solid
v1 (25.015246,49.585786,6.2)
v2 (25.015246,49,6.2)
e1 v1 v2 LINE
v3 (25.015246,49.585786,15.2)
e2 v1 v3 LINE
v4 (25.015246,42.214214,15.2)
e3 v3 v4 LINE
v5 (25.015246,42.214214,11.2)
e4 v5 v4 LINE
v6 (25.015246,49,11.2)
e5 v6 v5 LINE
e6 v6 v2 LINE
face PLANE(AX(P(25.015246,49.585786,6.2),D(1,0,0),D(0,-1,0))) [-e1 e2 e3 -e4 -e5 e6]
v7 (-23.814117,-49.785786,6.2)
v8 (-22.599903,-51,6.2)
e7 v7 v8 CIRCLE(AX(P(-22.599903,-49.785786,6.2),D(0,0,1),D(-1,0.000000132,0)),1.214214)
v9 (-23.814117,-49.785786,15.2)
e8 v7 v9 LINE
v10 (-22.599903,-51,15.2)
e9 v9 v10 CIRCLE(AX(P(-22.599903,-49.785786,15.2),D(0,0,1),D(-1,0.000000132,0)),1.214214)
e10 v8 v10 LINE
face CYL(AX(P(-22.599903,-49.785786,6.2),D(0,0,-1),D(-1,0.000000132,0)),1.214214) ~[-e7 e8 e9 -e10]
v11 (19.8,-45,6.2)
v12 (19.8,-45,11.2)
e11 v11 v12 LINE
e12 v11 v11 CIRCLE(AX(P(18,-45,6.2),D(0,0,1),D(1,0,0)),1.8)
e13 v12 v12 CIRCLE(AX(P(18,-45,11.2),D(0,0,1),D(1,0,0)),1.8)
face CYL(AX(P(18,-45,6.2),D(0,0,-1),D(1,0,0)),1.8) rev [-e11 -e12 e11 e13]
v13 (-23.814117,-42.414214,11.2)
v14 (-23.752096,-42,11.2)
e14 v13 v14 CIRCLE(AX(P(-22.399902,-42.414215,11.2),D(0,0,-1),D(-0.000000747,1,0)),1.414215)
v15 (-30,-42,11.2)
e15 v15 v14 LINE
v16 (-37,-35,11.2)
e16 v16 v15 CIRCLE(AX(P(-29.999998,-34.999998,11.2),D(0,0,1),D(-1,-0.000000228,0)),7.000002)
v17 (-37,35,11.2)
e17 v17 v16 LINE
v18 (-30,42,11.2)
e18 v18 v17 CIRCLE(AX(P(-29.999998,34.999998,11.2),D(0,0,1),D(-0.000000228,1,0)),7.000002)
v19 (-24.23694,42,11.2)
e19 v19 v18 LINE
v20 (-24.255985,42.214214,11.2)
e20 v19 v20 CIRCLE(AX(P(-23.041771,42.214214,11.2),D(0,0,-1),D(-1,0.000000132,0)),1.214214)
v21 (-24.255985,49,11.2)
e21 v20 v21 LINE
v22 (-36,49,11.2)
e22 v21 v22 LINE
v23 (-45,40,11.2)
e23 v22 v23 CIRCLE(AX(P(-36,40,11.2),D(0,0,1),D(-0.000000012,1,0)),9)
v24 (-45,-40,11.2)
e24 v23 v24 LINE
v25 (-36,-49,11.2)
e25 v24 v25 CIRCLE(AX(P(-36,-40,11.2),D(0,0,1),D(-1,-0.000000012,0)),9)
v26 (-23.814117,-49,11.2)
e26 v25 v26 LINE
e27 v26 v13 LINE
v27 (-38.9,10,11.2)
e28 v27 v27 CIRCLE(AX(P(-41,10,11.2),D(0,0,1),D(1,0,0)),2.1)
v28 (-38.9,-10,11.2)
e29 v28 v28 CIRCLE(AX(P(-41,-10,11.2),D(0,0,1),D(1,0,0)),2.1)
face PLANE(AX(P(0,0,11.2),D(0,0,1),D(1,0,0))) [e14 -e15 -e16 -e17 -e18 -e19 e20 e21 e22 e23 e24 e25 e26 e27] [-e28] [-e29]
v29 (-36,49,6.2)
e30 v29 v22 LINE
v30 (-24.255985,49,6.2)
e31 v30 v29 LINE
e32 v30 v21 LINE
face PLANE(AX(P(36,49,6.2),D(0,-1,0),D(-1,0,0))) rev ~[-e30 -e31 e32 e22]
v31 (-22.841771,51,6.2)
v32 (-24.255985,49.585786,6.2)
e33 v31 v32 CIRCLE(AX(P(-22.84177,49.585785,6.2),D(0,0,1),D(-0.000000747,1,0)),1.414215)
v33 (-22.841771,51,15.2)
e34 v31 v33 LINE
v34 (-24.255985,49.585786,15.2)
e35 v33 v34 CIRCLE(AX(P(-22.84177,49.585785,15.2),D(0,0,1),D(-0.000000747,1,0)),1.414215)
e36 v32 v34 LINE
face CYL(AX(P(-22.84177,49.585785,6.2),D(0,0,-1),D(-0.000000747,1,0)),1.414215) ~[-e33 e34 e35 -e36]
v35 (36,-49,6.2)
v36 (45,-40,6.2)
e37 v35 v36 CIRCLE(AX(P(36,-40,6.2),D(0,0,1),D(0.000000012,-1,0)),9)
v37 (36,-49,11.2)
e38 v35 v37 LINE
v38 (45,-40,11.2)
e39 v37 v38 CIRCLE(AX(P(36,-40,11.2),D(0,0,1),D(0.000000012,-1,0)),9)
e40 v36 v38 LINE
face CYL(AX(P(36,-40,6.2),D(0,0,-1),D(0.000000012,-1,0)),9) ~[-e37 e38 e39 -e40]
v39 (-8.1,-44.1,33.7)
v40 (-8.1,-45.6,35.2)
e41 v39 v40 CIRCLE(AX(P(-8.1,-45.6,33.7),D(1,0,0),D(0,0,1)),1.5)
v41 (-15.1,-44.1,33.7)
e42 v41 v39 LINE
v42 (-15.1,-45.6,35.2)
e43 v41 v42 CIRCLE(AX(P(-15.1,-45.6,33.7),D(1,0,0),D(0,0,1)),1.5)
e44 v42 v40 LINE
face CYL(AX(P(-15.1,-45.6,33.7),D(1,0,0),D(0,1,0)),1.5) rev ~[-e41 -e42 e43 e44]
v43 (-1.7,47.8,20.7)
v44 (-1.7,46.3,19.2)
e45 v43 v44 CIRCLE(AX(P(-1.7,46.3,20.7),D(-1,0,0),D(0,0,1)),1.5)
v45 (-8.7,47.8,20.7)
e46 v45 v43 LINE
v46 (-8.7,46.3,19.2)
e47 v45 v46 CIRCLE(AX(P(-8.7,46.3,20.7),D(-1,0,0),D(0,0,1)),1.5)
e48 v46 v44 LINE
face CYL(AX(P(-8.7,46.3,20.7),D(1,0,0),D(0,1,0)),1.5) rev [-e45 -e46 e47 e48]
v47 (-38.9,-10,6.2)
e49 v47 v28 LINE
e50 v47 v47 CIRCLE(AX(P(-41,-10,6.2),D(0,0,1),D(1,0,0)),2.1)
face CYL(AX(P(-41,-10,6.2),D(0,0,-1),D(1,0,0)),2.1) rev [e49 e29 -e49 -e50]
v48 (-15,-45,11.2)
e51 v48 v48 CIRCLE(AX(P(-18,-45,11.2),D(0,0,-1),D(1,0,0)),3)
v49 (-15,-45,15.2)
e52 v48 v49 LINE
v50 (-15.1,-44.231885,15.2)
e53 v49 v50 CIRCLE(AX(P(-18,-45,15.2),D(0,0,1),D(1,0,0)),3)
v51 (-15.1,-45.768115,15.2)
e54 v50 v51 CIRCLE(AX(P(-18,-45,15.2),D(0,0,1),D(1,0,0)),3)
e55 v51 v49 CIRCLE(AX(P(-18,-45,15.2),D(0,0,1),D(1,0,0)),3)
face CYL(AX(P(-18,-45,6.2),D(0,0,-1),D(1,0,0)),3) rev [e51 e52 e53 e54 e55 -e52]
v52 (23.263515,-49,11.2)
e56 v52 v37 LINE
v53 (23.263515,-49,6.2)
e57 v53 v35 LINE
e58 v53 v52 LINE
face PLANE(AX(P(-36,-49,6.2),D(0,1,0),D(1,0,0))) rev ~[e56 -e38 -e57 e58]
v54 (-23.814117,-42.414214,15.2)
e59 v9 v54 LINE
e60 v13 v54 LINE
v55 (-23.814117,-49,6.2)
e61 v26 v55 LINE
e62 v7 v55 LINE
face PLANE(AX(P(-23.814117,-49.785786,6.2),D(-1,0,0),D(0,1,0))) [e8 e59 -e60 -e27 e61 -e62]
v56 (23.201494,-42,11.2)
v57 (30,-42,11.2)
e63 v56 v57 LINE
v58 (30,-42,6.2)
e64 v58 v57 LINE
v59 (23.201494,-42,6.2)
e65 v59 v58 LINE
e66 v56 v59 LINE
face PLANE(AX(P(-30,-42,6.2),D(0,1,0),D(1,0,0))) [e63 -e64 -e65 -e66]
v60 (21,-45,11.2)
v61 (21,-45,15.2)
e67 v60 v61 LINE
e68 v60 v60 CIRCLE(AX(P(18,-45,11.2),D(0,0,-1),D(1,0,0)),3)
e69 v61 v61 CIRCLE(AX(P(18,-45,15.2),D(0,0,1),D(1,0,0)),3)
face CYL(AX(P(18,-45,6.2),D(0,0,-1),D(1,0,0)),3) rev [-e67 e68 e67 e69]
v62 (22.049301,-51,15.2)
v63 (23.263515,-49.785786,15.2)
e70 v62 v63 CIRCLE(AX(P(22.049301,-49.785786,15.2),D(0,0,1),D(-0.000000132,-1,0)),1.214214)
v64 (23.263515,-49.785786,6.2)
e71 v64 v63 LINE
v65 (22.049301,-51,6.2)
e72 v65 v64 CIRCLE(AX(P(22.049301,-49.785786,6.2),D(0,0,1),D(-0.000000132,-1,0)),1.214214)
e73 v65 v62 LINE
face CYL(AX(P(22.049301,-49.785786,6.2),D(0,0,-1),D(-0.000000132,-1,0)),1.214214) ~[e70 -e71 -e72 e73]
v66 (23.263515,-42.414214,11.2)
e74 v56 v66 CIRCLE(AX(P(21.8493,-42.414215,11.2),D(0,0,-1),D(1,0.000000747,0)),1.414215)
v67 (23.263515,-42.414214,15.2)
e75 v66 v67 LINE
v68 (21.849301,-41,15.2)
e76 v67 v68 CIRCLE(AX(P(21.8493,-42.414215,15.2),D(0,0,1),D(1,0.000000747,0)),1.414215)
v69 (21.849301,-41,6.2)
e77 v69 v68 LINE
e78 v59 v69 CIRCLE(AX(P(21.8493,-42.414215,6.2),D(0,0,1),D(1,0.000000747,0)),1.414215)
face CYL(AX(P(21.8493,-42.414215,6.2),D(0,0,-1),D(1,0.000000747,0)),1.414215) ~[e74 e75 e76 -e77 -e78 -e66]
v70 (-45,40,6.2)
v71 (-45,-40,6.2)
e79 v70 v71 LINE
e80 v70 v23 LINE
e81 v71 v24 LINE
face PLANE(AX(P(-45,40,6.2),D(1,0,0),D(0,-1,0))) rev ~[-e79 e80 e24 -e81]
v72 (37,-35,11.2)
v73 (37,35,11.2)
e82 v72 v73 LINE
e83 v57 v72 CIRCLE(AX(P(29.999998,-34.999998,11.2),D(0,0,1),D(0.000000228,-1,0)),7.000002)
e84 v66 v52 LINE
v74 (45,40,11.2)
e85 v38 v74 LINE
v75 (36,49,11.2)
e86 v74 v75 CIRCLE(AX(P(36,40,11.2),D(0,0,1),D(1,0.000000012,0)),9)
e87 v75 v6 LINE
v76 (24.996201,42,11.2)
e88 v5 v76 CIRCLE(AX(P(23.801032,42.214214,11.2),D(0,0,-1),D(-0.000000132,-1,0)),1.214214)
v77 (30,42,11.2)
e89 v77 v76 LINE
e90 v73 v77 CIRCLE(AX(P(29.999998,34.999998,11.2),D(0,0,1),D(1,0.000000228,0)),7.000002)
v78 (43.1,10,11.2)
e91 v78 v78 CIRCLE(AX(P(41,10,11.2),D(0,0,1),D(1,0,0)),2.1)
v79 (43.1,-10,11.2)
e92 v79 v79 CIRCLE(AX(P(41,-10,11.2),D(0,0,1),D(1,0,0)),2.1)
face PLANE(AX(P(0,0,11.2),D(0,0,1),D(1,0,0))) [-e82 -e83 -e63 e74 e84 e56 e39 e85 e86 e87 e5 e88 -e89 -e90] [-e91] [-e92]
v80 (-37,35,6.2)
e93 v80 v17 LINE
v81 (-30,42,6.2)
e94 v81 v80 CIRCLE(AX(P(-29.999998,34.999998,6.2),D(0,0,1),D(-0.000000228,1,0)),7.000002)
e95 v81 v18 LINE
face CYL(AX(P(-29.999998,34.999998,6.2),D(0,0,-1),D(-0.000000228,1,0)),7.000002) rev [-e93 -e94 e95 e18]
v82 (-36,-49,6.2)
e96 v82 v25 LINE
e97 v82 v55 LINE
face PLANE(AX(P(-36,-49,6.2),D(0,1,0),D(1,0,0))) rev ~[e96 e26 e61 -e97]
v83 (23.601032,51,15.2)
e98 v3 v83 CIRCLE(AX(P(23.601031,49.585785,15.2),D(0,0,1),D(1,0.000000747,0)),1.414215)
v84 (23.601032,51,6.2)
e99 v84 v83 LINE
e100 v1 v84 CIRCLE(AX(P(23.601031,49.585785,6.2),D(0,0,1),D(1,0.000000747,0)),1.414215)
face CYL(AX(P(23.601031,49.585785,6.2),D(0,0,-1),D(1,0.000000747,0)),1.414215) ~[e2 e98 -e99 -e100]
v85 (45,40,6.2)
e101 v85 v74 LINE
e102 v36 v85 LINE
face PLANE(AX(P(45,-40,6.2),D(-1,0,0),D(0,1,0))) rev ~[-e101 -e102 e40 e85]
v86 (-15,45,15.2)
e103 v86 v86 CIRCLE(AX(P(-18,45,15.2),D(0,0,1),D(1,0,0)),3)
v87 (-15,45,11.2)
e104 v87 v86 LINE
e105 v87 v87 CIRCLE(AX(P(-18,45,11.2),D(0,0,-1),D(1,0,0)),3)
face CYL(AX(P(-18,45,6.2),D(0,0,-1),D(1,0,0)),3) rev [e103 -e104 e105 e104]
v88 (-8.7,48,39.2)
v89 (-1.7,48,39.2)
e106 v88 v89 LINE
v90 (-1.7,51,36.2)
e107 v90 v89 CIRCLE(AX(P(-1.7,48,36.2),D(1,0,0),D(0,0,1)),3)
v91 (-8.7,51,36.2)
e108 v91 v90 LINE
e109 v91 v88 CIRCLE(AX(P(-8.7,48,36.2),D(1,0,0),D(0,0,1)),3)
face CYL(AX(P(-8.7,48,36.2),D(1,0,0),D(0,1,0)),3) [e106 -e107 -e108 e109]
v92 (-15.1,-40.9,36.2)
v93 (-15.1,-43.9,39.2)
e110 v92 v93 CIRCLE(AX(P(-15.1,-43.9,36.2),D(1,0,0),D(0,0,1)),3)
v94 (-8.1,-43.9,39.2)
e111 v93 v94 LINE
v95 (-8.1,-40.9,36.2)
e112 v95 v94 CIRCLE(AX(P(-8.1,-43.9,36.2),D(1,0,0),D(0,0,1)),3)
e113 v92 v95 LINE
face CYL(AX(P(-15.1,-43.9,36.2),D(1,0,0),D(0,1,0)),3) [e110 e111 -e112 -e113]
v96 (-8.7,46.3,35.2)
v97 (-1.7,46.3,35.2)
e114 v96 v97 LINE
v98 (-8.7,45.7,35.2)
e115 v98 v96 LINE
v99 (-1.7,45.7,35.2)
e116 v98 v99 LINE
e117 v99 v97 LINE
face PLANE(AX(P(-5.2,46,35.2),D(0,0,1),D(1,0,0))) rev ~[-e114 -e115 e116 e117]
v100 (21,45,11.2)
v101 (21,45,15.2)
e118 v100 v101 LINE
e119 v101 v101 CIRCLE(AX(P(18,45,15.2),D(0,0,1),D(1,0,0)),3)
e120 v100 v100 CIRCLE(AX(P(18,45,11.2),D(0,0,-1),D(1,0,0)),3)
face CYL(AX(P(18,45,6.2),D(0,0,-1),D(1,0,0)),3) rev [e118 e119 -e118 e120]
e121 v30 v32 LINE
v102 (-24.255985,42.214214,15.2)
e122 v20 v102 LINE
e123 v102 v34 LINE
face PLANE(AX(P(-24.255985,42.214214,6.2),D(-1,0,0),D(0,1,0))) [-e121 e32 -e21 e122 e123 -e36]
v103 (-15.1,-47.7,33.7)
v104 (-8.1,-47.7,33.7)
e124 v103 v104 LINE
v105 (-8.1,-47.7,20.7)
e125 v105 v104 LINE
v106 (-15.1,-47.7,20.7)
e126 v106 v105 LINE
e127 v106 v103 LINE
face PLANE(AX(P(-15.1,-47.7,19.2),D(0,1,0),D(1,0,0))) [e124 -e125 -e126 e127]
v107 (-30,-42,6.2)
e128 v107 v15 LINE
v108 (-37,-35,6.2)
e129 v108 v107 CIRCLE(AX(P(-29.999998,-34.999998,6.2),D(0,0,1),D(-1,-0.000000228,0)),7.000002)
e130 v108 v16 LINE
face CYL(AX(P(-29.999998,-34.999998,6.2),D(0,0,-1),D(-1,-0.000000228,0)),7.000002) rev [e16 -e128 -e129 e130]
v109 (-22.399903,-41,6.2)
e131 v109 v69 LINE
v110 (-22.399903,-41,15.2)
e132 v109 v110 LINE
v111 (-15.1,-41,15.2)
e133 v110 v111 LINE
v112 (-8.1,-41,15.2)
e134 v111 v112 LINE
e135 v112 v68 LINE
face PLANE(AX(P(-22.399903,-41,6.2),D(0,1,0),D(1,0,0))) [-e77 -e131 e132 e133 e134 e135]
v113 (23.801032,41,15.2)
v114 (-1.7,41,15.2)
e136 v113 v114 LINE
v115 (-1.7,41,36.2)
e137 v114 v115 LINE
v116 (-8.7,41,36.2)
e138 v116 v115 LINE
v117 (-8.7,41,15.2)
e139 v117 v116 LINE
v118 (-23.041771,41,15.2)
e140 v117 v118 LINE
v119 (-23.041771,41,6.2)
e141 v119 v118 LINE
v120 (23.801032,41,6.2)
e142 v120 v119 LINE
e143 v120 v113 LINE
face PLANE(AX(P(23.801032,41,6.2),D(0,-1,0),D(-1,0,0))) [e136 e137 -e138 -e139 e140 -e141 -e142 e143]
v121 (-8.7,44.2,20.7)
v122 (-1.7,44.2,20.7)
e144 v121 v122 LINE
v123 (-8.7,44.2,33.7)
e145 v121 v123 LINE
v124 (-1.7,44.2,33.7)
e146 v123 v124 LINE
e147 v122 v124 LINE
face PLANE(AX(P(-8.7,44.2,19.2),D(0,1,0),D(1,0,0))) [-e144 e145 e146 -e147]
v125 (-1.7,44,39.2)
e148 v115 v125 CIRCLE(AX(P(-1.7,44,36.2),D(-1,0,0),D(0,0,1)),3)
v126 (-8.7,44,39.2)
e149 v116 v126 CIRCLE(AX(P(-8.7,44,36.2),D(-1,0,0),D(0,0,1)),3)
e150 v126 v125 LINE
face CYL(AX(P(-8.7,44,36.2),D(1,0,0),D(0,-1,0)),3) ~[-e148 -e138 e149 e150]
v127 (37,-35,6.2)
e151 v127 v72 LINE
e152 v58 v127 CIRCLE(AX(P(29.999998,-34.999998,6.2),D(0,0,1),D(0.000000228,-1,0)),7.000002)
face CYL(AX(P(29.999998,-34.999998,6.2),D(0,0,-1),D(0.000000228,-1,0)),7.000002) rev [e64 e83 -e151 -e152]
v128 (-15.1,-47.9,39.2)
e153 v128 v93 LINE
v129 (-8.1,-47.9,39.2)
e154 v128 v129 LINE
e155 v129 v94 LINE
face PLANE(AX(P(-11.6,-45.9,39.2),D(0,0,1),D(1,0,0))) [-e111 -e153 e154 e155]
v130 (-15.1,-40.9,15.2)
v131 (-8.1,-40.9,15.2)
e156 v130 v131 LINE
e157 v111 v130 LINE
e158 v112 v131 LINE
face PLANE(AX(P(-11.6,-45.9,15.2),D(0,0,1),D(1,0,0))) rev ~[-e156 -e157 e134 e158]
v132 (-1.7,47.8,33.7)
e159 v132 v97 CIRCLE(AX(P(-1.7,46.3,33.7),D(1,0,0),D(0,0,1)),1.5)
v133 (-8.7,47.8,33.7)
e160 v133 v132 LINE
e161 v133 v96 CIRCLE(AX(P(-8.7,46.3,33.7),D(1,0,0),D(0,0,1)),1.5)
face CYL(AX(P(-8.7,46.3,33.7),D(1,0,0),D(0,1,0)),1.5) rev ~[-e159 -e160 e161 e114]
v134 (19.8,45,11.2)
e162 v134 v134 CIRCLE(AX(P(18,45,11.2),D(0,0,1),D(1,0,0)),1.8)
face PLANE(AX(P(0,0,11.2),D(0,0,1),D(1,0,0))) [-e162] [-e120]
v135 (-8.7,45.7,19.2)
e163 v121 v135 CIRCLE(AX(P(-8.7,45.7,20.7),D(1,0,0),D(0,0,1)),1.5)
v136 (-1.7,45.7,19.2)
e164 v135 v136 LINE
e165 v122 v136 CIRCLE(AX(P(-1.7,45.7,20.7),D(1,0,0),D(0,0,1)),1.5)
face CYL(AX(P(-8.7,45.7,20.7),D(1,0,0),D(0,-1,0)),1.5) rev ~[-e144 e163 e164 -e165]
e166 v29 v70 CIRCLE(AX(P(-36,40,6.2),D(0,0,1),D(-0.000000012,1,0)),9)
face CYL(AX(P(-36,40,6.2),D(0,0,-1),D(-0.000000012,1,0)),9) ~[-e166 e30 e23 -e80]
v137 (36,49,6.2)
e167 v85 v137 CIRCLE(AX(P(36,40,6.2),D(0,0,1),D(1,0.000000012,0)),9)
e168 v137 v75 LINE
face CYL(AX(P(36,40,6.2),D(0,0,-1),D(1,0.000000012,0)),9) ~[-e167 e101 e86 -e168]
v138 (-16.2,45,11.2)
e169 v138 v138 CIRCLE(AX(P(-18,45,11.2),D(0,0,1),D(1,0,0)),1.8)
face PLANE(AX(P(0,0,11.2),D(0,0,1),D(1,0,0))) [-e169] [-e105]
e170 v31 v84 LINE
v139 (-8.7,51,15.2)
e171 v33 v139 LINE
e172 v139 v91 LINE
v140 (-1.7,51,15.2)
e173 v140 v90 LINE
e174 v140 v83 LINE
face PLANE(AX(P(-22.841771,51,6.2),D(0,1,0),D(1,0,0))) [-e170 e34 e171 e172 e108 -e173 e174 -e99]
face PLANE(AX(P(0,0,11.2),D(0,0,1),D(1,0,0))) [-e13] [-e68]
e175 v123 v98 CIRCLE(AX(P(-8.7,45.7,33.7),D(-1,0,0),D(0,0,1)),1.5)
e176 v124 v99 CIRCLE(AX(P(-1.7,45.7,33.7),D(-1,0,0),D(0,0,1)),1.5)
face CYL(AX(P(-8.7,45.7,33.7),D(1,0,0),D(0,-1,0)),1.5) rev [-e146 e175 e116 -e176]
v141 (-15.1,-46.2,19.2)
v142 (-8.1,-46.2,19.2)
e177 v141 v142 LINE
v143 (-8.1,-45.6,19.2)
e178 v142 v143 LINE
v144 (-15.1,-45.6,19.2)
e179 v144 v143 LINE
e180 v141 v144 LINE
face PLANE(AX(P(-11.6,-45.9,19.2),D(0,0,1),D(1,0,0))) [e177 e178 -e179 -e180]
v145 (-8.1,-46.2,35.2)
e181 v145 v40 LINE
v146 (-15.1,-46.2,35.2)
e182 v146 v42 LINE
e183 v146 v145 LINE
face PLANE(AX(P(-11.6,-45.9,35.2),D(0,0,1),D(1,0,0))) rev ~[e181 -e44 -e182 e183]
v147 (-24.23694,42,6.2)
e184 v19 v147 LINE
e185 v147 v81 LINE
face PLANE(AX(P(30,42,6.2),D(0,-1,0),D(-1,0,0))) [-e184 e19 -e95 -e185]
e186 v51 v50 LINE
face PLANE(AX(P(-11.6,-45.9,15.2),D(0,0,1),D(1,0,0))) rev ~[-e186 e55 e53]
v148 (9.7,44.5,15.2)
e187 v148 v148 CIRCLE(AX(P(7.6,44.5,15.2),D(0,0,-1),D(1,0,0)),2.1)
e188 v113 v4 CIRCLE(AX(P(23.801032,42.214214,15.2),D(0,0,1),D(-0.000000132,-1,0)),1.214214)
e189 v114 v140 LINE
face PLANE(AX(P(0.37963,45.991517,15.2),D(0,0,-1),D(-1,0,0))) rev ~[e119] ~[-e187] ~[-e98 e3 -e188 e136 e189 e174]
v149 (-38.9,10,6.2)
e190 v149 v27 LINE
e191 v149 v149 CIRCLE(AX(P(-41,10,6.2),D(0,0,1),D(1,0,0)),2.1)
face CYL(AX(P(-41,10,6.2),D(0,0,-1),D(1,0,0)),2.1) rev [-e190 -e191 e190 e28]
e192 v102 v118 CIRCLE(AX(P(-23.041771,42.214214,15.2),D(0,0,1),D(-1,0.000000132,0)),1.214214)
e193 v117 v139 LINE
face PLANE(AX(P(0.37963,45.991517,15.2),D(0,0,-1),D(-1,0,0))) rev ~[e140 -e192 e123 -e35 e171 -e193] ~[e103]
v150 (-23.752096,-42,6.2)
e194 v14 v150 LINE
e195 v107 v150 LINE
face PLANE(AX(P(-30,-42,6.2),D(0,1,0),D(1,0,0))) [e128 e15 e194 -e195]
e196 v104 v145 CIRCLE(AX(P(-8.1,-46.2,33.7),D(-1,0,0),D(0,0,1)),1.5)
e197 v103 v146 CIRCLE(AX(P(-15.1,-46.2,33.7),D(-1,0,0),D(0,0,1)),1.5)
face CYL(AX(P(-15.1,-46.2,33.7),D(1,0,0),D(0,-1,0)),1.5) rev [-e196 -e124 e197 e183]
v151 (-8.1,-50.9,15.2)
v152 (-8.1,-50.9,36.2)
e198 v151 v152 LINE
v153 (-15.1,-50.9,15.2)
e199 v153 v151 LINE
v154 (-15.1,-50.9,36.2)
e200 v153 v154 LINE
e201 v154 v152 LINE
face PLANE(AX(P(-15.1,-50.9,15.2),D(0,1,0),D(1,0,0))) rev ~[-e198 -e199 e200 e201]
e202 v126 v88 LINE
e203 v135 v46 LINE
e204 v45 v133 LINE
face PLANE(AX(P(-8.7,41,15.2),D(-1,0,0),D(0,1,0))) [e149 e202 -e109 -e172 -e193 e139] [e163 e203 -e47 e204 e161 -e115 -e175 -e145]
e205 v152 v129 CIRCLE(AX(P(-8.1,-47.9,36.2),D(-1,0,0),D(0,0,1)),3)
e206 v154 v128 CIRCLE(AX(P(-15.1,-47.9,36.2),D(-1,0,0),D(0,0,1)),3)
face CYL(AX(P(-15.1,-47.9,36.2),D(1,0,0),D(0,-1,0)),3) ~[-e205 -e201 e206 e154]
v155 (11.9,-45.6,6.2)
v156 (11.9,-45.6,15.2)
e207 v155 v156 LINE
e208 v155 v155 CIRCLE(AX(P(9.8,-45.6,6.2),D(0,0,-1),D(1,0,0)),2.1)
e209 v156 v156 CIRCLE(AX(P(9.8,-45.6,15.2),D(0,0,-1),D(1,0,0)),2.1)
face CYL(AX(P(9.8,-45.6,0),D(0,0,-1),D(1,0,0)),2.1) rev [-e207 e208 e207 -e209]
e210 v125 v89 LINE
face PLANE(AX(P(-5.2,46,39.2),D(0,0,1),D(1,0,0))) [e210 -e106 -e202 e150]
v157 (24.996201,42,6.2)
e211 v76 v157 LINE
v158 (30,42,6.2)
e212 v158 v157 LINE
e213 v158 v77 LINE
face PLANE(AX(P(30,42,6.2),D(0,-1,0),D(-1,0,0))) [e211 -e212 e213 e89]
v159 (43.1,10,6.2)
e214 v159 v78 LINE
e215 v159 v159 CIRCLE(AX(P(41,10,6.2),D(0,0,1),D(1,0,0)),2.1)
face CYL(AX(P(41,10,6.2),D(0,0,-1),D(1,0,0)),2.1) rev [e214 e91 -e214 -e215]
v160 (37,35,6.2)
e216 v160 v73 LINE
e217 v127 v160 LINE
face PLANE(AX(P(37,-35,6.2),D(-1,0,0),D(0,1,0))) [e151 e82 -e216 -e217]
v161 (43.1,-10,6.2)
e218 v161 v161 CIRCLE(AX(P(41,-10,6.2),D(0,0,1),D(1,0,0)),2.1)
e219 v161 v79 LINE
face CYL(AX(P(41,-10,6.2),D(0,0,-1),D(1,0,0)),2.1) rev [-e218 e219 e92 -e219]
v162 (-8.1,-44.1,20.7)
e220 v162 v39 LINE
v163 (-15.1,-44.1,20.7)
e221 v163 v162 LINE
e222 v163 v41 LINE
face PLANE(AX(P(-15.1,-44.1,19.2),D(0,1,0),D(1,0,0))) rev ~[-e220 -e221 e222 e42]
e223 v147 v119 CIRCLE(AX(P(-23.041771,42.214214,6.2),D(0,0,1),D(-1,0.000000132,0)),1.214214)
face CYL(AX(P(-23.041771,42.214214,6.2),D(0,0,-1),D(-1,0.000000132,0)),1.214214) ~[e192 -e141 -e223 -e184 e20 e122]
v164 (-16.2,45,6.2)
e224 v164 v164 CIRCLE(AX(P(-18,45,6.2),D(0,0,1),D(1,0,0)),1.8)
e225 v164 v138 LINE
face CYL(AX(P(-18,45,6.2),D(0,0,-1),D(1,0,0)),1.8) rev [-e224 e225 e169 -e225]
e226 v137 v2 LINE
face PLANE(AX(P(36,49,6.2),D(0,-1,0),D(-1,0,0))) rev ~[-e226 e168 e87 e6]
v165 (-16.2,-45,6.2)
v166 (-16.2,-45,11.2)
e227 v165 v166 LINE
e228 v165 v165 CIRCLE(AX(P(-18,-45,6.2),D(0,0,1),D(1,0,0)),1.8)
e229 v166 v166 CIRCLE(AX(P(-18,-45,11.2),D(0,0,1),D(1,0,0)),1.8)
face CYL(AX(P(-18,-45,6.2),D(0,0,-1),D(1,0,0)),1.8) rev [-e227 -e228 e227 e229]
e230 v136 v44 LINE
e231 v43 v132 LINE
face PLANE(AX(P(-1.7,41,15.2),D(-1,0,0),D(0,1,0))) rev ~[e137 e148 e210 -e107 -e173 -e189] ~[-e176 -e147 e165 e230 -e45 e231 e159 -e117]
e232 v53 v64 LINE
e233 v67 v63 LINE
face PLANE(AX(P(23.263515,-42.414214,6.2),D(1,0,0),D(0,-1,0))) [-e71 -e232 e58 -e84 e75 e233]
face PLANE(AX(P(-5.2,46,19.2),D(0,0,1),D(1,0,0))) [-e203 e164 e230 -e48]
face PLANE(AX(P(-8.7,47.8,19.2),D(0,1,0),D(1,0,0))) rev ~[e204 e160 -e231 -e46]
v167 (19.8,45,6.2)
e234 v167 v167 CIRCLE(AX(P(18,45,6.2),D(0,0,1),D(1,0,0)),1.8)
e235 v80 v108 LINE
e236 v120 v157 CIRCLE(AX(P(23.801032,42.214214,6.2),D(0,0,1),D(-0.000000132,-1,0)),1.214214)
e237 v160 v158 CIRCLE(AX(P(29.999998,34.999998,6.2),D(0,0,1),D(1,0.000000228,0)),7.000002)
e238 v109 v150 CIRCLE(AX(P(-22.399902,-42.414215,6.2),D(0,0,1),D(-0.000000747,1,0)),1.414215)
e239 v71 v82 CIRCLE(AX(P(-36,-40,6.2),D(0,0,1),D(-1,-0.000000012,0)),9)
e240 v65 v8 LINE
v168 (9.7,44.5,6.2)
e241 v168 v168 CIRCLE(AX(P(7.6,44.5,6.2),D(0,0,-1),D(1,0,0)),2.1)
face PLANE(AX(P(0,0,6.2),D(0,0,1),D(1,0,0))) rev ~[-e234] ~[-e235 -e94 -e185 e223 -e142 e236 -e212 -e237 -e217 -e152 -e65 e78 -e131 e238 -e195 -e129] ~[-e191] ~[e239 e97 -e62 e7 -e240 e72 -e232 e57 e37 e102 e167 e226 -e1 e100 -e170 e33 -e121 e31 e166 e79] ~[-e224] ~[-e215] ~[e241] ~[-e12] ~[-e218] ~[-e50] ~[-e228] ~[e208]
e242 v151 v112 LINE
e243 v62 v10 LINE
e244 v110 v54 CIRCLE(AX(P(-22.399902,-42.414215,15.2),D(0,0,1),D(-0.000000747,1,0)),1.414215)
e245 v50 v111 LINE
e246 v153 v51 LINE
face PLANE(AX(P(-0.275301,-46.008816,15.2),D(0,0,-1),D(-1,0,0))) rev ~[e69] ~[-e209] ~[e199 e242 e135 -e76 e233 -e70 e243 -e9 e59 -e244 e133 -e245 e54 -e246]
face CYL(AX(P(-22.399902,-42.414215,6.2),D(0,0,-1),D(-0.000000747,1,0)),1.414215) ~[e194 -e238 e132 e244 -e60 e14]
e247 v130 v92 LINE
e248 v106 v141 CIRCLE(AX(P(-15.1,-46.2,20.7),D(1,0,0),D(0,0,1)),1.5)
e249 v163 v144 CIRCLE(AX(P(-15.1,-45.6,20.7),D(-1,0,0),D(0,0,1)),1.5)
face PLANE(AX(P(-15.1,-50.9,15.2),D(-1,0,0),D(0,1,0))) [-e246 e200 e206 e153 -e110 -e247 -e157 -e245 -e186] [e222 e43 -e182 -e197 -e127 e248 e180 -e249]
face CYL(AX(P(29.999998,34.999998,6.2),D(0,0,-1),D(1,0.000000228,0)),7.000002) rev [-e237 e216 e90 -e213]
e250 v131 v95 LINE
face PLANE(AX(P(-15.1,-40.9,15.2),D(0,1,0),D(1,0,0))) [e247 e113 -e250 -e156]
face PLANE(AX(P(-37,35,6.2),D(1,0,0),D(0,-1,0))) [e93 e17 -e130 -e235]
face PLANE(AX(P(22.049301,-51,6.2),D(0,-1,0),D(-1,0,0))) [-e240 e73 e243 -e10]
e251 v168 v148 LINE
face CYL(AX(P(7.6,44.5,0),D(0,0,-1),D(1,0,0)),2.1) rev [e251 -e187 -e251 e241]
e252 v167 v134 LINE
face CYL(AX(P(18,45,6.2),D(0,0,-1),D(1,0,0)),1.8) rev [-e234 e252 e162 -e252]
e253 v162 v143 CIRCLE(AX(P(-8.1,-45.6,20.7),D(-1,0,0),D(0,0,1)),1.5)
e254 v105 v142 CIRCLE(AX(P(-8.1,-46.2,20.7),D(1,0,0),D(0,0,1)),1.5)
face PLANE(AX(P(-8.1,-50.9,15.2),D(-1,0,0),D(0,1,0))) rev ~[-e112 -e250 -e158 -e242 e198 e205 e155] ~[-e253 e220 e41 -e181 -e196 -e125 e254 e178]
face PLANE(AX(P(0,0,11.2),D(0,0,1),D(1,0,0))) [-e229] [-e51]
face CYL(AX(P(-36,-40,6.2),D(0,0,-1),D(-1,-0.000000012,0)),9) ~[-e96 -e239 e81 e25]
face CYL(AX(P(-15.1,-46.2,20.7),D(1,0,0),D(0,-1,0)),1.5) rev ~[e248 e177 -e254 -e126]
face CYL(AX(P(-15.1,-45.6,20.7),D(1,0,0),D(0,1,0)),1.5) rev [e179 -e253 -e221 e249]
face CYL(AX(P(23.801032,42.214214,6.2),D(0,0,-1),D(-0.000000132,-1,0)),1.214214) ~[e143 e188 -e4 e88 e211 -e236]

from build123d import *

# Parameters (mm, degrees)
CYLINDER010_R     = 2.1
CYLINDER010_DEPTH = 30
CYLINDER011_R     = 2.1
CYLINDER011_DEPTH = 30
SKETCH002_R       = 1.8
SKETCH002_R_2     = 2.1
EXTRUDE001_DEPTH  = 5
BOX010_W          = 7
BOX010_H          = 3.6
BOX010_DEPTH      = 16
FILLET006_R       = 1.5
BOX009_W          = 7
BOX009_H          = 10
BOX009_DEPTH      = 24
FILLET005_R       = 3
SKETCH006_R       = 3
EXTRUDE005_DEPTH  = 9


with BuildPart() as insert_hole:
    # Cylinder010 → Cylinder010 (new body)
    with BuildSketch(Plane(origin=(7.6, 44.5, 0), x_dir=(1, 0, 0), z_dir=(0, 0, 1))):
        Circle(CYLINDER010_R)
    extrude(amount=CYLINDER010_DEPTH)


with BuildPart() as insert_hole_fusion:
    # Cylinder011 → Cylinder011 (new body)
    with BuildSketch(Plane(origin=(9.8, -45.6, 0), x_dir=(1, 0, 0), z_dir=(0, 0, 1))):
        Circle(CYLINDER011_R)
    extrude(amount=CYLINDER011_DEPTH)

    # Fusion010: union insert hole
    add(insert_hole.part)


with BuildPart() as pair_connector_extrude:
    # Sketch002 → Extrude001 (new body)
    with BuildSketch(Plane.XY):
        with BuildLine():
            Line((-36, -49), (0, -49))
            Line((0, -49), (36, -49))
            ThreePointArc((36, -49), (42.363961, -46.363961), (45, -40))
            Line((45, -40), (45, 0))
            Line((45, 0), (45, 40))
            ThreePointArc((45, 40), (42.363961, 46.363961), (36, 49))
            Line((36, 49), (0, 49))
            Line((0, 49), (-36, 49))
            ThreePointArc((-36, 49), (-42.363961, 46.363961), (-45, 40))
            Line((-45, 40), (-45, 0))
            Line((-45, 0), (-45, -40))
            ThreePointArc((-45, -40), (-42.363961, -46.363961), (-36, -49))
        make_face()
        with Locations((-18, 45)):
            Circle(SKETCH002_R, mode=Mode.SUBTRACT)
        with Locations((18, 45)):
            Circle(SKETCH002_R, mode=Mode.SUBTRACT)
        with Locations((-18, -45)):
            Circle(SKETCH002_R, mode=Mode.SUBTRACT)
        with Locations((18, -45)):
            Circle(SKETCH002_R, mode=Mode.SUBTRACT)
        with Locations((-41, 10)):
            Circle(SKETCH002_R_2, mode=Mode.SUBTRACT)
        with Locations((-41, -10)):
            Circle(SKETCH002_R_2, mode=Mode.SUBTRACT)
        with Locations((41, -10)):
            Circle(SKETCH002_R_2, mode=Mode.SUBTRACT)
        with Locations((41, 10)):
            Circle(SKETCH002_R_2, mode=Mode.SUBTRACT)
        with BuildLine():
            Line((-30, -42), (0, -42))
            Line((0, -42), (30, -42))
            ThreePointArc((30, -42), (34.949747, -39.949747), (37, -35))
            Line((37, -35), (37, 0))
            Line((37, 0), (37, 35))
            ThreePointArc((37, 35), (34.949747, 39.949747), (30, 42))
            Line((30, 42), (0, 42))
            Line((0, 42), (-30, 42))
            ThreePointArc((-30, 42), (-34.949747, 39.949747), (-37, 35))
            Line((-37, 35), (-37, 0))
            Line((-37, 0), (-37, -35))
            ThreePointArc((-37, -35), (-34.949747, -39.949747), (-30, -42))
        make_face(mode=Mode.SUBTRACT)
    extrude(amount=EXTRUDE001_DEPTH)


with BuildPart() as pair_connector_extrude_1:
    # Extrude001 placement: moved
    add(pair_connector_extrude.part.moved(Location((0, 0, 6.2))))


with BuildPart() as stand_hole_fillet:
    # Box010 → Box010 (new body)
    with BuildSketch(Plane(origin=(0, -1.8, 4), x_dir=(1, 0, 0), z_dir=(0, 0, 1))):
        with Locations((3.5, 1.8)):
            Rectangle(BOX010_W, BOX010_H)
    extrude(amount=BOX010_DEPTH)

    # Fillet006
    fillet006_edges = [stand_hole_fillet.edges().sort_by_distance(p)[0] for p in [
        (3.5, -1.8, 4),
        (3.5, -1.8, 20),
        (3.5, 1.8, 4),
        (3.5, 1.8, 20),
    ]]
    fillet(fillet006_edges, radius=FILLET006_R)


with BuildPart() as stand_hole_cut:
    # Box009 → Box009 (new body)
    with BuildSketch(Plane(origin=(0, -5, 0), x_dir=(1, 0, 0), z_dir=(0, 0, 1))):
        with Locations((3.5, 5)):
            Rectangle(BOX009_W, BOX009_H)
    extrude(amount=BOX009_DEPTH)

    # Fillet005
    fillet005_edges = [stand_hole_cut.edges().sort_by_distance(p)[0] for p in [
        (3.5, -5, 24),
        (3.5, 5, 24),
    ]]
    fillet(fillet005_edges, radius=FILLET005_R)

    # Cut005: cut stand hole fillet
    add(stand_hole_fillet.part, mode=Mode.SUBTRACT)


with BuildPart() as negative_stand_compound:
    # Compound022 base: copy of stand hole cut
    add(stand_hole_cut.part)


with BuildPart() as negative_stand_compound_1:
    # Compound022 placement: moved
    add(negative_stand_compound.part.moved(Location((-15.1, -45.9, 15.2))))


with BuildPart() as positive_stand_compound:
    # Compound023 base: copy of stand hole cut
    add(stand_hole_cut.part)


with BuildPart() as positive_stand_compound_1:
    # Compound023 placement: moved
    add(positive_stand_compound.part.moved(Location((-8.7, 46, 15.2))))


with BuildPart() as pair_connector_fusion_cut:
    # Sketch006 → Extrude005 (new body)
    with BuildSketch(Plane.XY):
        with BuildLine():
            Line((-22.841771, 51), (23.601032, 51))
            ThreePointArc((25.015246, 49.585786), (24.601032, 50.585786), (23.601032, 51))
            Line((25.015246, 49.585786), (25.015246, 42.214214))
            ThreePointArc((23.801032, 41), (24.659611, 41.355635), (25.015246, 42.214214))
            Line((23.801032, 41), (-23.041771, 41))
            ThreePointArc((-24.255985, 42.214214), (-23.90035, 41.355635), (-23.041771, 41))
            Line((-24.255985, 42.214214), (-24.255985, 49.585786))
            ThreePointArc((-22.841771, 51), (-23.841771, 50.585786), (-24.255985, 49.585786))
        make_face()
        with Locations((18, 45)):
            Circle(SKETCH006_R, mode=Mode.SUBTRACT)
        with Locations((-18, 45)):
            Circle(SKETCH006_R, mode=Mode.SUBTRACT)
        with BuildLine():
            Line((-22.399903, -41), (21.849301, -41))
            ThreePointArc((23.263515, -42.414214), (22.849301, -41.414214), (21.849301, -41))
            Line((23.263515, -42.414214), (23.263515, -49.785786))
            ThreePointArc((22.049301, -51), (22.90788, -50.644365), (23.263515, -49.785786))
            Line((22.049301, -51), (-22.599903, -51))
            ThreePointArc((-23.814117, -49.785786), (-23.458482, -50.644365), (-22.599903, -51))
            Line((-23.814117, -49.785786), (-23.814117, -42.414214))
            ThreePointArc((-22.399903, -41), (-23.399903, -41.414214), (-23.814117, -42.414214))
        make_face()
        with Locations((-18, -45)):
            Circle(SKETCH006_R, mode=Mode.SUBTRACT)
        with Locations((18, -45)):
            Circle(SKETCH006_R, mode=Mode.SUBTRACT)
    extrude(amount=EXTRUDE005_DEPTH)


with BuildPart() as pair_connector_fusion_cut_1:
    # Extrude005 placement: moved
    add(pair_connector_fusion_cut.part.moved(Location((0, 0, 6.2))))

    # Fusion008: union pair connector extrude, negative stand compound, positive stand compound
    add(pair_connector_extrude_1.part)
    add(negative_stand_compound_1.part)
    add(positive_stand_compound_1.part)

    # Cut007: cut insert hole fusion
    add(insert_hole_fusion.part, mode=Mode.SUBTRACT)


solid = pair_connector_fusion_cut_1.part
